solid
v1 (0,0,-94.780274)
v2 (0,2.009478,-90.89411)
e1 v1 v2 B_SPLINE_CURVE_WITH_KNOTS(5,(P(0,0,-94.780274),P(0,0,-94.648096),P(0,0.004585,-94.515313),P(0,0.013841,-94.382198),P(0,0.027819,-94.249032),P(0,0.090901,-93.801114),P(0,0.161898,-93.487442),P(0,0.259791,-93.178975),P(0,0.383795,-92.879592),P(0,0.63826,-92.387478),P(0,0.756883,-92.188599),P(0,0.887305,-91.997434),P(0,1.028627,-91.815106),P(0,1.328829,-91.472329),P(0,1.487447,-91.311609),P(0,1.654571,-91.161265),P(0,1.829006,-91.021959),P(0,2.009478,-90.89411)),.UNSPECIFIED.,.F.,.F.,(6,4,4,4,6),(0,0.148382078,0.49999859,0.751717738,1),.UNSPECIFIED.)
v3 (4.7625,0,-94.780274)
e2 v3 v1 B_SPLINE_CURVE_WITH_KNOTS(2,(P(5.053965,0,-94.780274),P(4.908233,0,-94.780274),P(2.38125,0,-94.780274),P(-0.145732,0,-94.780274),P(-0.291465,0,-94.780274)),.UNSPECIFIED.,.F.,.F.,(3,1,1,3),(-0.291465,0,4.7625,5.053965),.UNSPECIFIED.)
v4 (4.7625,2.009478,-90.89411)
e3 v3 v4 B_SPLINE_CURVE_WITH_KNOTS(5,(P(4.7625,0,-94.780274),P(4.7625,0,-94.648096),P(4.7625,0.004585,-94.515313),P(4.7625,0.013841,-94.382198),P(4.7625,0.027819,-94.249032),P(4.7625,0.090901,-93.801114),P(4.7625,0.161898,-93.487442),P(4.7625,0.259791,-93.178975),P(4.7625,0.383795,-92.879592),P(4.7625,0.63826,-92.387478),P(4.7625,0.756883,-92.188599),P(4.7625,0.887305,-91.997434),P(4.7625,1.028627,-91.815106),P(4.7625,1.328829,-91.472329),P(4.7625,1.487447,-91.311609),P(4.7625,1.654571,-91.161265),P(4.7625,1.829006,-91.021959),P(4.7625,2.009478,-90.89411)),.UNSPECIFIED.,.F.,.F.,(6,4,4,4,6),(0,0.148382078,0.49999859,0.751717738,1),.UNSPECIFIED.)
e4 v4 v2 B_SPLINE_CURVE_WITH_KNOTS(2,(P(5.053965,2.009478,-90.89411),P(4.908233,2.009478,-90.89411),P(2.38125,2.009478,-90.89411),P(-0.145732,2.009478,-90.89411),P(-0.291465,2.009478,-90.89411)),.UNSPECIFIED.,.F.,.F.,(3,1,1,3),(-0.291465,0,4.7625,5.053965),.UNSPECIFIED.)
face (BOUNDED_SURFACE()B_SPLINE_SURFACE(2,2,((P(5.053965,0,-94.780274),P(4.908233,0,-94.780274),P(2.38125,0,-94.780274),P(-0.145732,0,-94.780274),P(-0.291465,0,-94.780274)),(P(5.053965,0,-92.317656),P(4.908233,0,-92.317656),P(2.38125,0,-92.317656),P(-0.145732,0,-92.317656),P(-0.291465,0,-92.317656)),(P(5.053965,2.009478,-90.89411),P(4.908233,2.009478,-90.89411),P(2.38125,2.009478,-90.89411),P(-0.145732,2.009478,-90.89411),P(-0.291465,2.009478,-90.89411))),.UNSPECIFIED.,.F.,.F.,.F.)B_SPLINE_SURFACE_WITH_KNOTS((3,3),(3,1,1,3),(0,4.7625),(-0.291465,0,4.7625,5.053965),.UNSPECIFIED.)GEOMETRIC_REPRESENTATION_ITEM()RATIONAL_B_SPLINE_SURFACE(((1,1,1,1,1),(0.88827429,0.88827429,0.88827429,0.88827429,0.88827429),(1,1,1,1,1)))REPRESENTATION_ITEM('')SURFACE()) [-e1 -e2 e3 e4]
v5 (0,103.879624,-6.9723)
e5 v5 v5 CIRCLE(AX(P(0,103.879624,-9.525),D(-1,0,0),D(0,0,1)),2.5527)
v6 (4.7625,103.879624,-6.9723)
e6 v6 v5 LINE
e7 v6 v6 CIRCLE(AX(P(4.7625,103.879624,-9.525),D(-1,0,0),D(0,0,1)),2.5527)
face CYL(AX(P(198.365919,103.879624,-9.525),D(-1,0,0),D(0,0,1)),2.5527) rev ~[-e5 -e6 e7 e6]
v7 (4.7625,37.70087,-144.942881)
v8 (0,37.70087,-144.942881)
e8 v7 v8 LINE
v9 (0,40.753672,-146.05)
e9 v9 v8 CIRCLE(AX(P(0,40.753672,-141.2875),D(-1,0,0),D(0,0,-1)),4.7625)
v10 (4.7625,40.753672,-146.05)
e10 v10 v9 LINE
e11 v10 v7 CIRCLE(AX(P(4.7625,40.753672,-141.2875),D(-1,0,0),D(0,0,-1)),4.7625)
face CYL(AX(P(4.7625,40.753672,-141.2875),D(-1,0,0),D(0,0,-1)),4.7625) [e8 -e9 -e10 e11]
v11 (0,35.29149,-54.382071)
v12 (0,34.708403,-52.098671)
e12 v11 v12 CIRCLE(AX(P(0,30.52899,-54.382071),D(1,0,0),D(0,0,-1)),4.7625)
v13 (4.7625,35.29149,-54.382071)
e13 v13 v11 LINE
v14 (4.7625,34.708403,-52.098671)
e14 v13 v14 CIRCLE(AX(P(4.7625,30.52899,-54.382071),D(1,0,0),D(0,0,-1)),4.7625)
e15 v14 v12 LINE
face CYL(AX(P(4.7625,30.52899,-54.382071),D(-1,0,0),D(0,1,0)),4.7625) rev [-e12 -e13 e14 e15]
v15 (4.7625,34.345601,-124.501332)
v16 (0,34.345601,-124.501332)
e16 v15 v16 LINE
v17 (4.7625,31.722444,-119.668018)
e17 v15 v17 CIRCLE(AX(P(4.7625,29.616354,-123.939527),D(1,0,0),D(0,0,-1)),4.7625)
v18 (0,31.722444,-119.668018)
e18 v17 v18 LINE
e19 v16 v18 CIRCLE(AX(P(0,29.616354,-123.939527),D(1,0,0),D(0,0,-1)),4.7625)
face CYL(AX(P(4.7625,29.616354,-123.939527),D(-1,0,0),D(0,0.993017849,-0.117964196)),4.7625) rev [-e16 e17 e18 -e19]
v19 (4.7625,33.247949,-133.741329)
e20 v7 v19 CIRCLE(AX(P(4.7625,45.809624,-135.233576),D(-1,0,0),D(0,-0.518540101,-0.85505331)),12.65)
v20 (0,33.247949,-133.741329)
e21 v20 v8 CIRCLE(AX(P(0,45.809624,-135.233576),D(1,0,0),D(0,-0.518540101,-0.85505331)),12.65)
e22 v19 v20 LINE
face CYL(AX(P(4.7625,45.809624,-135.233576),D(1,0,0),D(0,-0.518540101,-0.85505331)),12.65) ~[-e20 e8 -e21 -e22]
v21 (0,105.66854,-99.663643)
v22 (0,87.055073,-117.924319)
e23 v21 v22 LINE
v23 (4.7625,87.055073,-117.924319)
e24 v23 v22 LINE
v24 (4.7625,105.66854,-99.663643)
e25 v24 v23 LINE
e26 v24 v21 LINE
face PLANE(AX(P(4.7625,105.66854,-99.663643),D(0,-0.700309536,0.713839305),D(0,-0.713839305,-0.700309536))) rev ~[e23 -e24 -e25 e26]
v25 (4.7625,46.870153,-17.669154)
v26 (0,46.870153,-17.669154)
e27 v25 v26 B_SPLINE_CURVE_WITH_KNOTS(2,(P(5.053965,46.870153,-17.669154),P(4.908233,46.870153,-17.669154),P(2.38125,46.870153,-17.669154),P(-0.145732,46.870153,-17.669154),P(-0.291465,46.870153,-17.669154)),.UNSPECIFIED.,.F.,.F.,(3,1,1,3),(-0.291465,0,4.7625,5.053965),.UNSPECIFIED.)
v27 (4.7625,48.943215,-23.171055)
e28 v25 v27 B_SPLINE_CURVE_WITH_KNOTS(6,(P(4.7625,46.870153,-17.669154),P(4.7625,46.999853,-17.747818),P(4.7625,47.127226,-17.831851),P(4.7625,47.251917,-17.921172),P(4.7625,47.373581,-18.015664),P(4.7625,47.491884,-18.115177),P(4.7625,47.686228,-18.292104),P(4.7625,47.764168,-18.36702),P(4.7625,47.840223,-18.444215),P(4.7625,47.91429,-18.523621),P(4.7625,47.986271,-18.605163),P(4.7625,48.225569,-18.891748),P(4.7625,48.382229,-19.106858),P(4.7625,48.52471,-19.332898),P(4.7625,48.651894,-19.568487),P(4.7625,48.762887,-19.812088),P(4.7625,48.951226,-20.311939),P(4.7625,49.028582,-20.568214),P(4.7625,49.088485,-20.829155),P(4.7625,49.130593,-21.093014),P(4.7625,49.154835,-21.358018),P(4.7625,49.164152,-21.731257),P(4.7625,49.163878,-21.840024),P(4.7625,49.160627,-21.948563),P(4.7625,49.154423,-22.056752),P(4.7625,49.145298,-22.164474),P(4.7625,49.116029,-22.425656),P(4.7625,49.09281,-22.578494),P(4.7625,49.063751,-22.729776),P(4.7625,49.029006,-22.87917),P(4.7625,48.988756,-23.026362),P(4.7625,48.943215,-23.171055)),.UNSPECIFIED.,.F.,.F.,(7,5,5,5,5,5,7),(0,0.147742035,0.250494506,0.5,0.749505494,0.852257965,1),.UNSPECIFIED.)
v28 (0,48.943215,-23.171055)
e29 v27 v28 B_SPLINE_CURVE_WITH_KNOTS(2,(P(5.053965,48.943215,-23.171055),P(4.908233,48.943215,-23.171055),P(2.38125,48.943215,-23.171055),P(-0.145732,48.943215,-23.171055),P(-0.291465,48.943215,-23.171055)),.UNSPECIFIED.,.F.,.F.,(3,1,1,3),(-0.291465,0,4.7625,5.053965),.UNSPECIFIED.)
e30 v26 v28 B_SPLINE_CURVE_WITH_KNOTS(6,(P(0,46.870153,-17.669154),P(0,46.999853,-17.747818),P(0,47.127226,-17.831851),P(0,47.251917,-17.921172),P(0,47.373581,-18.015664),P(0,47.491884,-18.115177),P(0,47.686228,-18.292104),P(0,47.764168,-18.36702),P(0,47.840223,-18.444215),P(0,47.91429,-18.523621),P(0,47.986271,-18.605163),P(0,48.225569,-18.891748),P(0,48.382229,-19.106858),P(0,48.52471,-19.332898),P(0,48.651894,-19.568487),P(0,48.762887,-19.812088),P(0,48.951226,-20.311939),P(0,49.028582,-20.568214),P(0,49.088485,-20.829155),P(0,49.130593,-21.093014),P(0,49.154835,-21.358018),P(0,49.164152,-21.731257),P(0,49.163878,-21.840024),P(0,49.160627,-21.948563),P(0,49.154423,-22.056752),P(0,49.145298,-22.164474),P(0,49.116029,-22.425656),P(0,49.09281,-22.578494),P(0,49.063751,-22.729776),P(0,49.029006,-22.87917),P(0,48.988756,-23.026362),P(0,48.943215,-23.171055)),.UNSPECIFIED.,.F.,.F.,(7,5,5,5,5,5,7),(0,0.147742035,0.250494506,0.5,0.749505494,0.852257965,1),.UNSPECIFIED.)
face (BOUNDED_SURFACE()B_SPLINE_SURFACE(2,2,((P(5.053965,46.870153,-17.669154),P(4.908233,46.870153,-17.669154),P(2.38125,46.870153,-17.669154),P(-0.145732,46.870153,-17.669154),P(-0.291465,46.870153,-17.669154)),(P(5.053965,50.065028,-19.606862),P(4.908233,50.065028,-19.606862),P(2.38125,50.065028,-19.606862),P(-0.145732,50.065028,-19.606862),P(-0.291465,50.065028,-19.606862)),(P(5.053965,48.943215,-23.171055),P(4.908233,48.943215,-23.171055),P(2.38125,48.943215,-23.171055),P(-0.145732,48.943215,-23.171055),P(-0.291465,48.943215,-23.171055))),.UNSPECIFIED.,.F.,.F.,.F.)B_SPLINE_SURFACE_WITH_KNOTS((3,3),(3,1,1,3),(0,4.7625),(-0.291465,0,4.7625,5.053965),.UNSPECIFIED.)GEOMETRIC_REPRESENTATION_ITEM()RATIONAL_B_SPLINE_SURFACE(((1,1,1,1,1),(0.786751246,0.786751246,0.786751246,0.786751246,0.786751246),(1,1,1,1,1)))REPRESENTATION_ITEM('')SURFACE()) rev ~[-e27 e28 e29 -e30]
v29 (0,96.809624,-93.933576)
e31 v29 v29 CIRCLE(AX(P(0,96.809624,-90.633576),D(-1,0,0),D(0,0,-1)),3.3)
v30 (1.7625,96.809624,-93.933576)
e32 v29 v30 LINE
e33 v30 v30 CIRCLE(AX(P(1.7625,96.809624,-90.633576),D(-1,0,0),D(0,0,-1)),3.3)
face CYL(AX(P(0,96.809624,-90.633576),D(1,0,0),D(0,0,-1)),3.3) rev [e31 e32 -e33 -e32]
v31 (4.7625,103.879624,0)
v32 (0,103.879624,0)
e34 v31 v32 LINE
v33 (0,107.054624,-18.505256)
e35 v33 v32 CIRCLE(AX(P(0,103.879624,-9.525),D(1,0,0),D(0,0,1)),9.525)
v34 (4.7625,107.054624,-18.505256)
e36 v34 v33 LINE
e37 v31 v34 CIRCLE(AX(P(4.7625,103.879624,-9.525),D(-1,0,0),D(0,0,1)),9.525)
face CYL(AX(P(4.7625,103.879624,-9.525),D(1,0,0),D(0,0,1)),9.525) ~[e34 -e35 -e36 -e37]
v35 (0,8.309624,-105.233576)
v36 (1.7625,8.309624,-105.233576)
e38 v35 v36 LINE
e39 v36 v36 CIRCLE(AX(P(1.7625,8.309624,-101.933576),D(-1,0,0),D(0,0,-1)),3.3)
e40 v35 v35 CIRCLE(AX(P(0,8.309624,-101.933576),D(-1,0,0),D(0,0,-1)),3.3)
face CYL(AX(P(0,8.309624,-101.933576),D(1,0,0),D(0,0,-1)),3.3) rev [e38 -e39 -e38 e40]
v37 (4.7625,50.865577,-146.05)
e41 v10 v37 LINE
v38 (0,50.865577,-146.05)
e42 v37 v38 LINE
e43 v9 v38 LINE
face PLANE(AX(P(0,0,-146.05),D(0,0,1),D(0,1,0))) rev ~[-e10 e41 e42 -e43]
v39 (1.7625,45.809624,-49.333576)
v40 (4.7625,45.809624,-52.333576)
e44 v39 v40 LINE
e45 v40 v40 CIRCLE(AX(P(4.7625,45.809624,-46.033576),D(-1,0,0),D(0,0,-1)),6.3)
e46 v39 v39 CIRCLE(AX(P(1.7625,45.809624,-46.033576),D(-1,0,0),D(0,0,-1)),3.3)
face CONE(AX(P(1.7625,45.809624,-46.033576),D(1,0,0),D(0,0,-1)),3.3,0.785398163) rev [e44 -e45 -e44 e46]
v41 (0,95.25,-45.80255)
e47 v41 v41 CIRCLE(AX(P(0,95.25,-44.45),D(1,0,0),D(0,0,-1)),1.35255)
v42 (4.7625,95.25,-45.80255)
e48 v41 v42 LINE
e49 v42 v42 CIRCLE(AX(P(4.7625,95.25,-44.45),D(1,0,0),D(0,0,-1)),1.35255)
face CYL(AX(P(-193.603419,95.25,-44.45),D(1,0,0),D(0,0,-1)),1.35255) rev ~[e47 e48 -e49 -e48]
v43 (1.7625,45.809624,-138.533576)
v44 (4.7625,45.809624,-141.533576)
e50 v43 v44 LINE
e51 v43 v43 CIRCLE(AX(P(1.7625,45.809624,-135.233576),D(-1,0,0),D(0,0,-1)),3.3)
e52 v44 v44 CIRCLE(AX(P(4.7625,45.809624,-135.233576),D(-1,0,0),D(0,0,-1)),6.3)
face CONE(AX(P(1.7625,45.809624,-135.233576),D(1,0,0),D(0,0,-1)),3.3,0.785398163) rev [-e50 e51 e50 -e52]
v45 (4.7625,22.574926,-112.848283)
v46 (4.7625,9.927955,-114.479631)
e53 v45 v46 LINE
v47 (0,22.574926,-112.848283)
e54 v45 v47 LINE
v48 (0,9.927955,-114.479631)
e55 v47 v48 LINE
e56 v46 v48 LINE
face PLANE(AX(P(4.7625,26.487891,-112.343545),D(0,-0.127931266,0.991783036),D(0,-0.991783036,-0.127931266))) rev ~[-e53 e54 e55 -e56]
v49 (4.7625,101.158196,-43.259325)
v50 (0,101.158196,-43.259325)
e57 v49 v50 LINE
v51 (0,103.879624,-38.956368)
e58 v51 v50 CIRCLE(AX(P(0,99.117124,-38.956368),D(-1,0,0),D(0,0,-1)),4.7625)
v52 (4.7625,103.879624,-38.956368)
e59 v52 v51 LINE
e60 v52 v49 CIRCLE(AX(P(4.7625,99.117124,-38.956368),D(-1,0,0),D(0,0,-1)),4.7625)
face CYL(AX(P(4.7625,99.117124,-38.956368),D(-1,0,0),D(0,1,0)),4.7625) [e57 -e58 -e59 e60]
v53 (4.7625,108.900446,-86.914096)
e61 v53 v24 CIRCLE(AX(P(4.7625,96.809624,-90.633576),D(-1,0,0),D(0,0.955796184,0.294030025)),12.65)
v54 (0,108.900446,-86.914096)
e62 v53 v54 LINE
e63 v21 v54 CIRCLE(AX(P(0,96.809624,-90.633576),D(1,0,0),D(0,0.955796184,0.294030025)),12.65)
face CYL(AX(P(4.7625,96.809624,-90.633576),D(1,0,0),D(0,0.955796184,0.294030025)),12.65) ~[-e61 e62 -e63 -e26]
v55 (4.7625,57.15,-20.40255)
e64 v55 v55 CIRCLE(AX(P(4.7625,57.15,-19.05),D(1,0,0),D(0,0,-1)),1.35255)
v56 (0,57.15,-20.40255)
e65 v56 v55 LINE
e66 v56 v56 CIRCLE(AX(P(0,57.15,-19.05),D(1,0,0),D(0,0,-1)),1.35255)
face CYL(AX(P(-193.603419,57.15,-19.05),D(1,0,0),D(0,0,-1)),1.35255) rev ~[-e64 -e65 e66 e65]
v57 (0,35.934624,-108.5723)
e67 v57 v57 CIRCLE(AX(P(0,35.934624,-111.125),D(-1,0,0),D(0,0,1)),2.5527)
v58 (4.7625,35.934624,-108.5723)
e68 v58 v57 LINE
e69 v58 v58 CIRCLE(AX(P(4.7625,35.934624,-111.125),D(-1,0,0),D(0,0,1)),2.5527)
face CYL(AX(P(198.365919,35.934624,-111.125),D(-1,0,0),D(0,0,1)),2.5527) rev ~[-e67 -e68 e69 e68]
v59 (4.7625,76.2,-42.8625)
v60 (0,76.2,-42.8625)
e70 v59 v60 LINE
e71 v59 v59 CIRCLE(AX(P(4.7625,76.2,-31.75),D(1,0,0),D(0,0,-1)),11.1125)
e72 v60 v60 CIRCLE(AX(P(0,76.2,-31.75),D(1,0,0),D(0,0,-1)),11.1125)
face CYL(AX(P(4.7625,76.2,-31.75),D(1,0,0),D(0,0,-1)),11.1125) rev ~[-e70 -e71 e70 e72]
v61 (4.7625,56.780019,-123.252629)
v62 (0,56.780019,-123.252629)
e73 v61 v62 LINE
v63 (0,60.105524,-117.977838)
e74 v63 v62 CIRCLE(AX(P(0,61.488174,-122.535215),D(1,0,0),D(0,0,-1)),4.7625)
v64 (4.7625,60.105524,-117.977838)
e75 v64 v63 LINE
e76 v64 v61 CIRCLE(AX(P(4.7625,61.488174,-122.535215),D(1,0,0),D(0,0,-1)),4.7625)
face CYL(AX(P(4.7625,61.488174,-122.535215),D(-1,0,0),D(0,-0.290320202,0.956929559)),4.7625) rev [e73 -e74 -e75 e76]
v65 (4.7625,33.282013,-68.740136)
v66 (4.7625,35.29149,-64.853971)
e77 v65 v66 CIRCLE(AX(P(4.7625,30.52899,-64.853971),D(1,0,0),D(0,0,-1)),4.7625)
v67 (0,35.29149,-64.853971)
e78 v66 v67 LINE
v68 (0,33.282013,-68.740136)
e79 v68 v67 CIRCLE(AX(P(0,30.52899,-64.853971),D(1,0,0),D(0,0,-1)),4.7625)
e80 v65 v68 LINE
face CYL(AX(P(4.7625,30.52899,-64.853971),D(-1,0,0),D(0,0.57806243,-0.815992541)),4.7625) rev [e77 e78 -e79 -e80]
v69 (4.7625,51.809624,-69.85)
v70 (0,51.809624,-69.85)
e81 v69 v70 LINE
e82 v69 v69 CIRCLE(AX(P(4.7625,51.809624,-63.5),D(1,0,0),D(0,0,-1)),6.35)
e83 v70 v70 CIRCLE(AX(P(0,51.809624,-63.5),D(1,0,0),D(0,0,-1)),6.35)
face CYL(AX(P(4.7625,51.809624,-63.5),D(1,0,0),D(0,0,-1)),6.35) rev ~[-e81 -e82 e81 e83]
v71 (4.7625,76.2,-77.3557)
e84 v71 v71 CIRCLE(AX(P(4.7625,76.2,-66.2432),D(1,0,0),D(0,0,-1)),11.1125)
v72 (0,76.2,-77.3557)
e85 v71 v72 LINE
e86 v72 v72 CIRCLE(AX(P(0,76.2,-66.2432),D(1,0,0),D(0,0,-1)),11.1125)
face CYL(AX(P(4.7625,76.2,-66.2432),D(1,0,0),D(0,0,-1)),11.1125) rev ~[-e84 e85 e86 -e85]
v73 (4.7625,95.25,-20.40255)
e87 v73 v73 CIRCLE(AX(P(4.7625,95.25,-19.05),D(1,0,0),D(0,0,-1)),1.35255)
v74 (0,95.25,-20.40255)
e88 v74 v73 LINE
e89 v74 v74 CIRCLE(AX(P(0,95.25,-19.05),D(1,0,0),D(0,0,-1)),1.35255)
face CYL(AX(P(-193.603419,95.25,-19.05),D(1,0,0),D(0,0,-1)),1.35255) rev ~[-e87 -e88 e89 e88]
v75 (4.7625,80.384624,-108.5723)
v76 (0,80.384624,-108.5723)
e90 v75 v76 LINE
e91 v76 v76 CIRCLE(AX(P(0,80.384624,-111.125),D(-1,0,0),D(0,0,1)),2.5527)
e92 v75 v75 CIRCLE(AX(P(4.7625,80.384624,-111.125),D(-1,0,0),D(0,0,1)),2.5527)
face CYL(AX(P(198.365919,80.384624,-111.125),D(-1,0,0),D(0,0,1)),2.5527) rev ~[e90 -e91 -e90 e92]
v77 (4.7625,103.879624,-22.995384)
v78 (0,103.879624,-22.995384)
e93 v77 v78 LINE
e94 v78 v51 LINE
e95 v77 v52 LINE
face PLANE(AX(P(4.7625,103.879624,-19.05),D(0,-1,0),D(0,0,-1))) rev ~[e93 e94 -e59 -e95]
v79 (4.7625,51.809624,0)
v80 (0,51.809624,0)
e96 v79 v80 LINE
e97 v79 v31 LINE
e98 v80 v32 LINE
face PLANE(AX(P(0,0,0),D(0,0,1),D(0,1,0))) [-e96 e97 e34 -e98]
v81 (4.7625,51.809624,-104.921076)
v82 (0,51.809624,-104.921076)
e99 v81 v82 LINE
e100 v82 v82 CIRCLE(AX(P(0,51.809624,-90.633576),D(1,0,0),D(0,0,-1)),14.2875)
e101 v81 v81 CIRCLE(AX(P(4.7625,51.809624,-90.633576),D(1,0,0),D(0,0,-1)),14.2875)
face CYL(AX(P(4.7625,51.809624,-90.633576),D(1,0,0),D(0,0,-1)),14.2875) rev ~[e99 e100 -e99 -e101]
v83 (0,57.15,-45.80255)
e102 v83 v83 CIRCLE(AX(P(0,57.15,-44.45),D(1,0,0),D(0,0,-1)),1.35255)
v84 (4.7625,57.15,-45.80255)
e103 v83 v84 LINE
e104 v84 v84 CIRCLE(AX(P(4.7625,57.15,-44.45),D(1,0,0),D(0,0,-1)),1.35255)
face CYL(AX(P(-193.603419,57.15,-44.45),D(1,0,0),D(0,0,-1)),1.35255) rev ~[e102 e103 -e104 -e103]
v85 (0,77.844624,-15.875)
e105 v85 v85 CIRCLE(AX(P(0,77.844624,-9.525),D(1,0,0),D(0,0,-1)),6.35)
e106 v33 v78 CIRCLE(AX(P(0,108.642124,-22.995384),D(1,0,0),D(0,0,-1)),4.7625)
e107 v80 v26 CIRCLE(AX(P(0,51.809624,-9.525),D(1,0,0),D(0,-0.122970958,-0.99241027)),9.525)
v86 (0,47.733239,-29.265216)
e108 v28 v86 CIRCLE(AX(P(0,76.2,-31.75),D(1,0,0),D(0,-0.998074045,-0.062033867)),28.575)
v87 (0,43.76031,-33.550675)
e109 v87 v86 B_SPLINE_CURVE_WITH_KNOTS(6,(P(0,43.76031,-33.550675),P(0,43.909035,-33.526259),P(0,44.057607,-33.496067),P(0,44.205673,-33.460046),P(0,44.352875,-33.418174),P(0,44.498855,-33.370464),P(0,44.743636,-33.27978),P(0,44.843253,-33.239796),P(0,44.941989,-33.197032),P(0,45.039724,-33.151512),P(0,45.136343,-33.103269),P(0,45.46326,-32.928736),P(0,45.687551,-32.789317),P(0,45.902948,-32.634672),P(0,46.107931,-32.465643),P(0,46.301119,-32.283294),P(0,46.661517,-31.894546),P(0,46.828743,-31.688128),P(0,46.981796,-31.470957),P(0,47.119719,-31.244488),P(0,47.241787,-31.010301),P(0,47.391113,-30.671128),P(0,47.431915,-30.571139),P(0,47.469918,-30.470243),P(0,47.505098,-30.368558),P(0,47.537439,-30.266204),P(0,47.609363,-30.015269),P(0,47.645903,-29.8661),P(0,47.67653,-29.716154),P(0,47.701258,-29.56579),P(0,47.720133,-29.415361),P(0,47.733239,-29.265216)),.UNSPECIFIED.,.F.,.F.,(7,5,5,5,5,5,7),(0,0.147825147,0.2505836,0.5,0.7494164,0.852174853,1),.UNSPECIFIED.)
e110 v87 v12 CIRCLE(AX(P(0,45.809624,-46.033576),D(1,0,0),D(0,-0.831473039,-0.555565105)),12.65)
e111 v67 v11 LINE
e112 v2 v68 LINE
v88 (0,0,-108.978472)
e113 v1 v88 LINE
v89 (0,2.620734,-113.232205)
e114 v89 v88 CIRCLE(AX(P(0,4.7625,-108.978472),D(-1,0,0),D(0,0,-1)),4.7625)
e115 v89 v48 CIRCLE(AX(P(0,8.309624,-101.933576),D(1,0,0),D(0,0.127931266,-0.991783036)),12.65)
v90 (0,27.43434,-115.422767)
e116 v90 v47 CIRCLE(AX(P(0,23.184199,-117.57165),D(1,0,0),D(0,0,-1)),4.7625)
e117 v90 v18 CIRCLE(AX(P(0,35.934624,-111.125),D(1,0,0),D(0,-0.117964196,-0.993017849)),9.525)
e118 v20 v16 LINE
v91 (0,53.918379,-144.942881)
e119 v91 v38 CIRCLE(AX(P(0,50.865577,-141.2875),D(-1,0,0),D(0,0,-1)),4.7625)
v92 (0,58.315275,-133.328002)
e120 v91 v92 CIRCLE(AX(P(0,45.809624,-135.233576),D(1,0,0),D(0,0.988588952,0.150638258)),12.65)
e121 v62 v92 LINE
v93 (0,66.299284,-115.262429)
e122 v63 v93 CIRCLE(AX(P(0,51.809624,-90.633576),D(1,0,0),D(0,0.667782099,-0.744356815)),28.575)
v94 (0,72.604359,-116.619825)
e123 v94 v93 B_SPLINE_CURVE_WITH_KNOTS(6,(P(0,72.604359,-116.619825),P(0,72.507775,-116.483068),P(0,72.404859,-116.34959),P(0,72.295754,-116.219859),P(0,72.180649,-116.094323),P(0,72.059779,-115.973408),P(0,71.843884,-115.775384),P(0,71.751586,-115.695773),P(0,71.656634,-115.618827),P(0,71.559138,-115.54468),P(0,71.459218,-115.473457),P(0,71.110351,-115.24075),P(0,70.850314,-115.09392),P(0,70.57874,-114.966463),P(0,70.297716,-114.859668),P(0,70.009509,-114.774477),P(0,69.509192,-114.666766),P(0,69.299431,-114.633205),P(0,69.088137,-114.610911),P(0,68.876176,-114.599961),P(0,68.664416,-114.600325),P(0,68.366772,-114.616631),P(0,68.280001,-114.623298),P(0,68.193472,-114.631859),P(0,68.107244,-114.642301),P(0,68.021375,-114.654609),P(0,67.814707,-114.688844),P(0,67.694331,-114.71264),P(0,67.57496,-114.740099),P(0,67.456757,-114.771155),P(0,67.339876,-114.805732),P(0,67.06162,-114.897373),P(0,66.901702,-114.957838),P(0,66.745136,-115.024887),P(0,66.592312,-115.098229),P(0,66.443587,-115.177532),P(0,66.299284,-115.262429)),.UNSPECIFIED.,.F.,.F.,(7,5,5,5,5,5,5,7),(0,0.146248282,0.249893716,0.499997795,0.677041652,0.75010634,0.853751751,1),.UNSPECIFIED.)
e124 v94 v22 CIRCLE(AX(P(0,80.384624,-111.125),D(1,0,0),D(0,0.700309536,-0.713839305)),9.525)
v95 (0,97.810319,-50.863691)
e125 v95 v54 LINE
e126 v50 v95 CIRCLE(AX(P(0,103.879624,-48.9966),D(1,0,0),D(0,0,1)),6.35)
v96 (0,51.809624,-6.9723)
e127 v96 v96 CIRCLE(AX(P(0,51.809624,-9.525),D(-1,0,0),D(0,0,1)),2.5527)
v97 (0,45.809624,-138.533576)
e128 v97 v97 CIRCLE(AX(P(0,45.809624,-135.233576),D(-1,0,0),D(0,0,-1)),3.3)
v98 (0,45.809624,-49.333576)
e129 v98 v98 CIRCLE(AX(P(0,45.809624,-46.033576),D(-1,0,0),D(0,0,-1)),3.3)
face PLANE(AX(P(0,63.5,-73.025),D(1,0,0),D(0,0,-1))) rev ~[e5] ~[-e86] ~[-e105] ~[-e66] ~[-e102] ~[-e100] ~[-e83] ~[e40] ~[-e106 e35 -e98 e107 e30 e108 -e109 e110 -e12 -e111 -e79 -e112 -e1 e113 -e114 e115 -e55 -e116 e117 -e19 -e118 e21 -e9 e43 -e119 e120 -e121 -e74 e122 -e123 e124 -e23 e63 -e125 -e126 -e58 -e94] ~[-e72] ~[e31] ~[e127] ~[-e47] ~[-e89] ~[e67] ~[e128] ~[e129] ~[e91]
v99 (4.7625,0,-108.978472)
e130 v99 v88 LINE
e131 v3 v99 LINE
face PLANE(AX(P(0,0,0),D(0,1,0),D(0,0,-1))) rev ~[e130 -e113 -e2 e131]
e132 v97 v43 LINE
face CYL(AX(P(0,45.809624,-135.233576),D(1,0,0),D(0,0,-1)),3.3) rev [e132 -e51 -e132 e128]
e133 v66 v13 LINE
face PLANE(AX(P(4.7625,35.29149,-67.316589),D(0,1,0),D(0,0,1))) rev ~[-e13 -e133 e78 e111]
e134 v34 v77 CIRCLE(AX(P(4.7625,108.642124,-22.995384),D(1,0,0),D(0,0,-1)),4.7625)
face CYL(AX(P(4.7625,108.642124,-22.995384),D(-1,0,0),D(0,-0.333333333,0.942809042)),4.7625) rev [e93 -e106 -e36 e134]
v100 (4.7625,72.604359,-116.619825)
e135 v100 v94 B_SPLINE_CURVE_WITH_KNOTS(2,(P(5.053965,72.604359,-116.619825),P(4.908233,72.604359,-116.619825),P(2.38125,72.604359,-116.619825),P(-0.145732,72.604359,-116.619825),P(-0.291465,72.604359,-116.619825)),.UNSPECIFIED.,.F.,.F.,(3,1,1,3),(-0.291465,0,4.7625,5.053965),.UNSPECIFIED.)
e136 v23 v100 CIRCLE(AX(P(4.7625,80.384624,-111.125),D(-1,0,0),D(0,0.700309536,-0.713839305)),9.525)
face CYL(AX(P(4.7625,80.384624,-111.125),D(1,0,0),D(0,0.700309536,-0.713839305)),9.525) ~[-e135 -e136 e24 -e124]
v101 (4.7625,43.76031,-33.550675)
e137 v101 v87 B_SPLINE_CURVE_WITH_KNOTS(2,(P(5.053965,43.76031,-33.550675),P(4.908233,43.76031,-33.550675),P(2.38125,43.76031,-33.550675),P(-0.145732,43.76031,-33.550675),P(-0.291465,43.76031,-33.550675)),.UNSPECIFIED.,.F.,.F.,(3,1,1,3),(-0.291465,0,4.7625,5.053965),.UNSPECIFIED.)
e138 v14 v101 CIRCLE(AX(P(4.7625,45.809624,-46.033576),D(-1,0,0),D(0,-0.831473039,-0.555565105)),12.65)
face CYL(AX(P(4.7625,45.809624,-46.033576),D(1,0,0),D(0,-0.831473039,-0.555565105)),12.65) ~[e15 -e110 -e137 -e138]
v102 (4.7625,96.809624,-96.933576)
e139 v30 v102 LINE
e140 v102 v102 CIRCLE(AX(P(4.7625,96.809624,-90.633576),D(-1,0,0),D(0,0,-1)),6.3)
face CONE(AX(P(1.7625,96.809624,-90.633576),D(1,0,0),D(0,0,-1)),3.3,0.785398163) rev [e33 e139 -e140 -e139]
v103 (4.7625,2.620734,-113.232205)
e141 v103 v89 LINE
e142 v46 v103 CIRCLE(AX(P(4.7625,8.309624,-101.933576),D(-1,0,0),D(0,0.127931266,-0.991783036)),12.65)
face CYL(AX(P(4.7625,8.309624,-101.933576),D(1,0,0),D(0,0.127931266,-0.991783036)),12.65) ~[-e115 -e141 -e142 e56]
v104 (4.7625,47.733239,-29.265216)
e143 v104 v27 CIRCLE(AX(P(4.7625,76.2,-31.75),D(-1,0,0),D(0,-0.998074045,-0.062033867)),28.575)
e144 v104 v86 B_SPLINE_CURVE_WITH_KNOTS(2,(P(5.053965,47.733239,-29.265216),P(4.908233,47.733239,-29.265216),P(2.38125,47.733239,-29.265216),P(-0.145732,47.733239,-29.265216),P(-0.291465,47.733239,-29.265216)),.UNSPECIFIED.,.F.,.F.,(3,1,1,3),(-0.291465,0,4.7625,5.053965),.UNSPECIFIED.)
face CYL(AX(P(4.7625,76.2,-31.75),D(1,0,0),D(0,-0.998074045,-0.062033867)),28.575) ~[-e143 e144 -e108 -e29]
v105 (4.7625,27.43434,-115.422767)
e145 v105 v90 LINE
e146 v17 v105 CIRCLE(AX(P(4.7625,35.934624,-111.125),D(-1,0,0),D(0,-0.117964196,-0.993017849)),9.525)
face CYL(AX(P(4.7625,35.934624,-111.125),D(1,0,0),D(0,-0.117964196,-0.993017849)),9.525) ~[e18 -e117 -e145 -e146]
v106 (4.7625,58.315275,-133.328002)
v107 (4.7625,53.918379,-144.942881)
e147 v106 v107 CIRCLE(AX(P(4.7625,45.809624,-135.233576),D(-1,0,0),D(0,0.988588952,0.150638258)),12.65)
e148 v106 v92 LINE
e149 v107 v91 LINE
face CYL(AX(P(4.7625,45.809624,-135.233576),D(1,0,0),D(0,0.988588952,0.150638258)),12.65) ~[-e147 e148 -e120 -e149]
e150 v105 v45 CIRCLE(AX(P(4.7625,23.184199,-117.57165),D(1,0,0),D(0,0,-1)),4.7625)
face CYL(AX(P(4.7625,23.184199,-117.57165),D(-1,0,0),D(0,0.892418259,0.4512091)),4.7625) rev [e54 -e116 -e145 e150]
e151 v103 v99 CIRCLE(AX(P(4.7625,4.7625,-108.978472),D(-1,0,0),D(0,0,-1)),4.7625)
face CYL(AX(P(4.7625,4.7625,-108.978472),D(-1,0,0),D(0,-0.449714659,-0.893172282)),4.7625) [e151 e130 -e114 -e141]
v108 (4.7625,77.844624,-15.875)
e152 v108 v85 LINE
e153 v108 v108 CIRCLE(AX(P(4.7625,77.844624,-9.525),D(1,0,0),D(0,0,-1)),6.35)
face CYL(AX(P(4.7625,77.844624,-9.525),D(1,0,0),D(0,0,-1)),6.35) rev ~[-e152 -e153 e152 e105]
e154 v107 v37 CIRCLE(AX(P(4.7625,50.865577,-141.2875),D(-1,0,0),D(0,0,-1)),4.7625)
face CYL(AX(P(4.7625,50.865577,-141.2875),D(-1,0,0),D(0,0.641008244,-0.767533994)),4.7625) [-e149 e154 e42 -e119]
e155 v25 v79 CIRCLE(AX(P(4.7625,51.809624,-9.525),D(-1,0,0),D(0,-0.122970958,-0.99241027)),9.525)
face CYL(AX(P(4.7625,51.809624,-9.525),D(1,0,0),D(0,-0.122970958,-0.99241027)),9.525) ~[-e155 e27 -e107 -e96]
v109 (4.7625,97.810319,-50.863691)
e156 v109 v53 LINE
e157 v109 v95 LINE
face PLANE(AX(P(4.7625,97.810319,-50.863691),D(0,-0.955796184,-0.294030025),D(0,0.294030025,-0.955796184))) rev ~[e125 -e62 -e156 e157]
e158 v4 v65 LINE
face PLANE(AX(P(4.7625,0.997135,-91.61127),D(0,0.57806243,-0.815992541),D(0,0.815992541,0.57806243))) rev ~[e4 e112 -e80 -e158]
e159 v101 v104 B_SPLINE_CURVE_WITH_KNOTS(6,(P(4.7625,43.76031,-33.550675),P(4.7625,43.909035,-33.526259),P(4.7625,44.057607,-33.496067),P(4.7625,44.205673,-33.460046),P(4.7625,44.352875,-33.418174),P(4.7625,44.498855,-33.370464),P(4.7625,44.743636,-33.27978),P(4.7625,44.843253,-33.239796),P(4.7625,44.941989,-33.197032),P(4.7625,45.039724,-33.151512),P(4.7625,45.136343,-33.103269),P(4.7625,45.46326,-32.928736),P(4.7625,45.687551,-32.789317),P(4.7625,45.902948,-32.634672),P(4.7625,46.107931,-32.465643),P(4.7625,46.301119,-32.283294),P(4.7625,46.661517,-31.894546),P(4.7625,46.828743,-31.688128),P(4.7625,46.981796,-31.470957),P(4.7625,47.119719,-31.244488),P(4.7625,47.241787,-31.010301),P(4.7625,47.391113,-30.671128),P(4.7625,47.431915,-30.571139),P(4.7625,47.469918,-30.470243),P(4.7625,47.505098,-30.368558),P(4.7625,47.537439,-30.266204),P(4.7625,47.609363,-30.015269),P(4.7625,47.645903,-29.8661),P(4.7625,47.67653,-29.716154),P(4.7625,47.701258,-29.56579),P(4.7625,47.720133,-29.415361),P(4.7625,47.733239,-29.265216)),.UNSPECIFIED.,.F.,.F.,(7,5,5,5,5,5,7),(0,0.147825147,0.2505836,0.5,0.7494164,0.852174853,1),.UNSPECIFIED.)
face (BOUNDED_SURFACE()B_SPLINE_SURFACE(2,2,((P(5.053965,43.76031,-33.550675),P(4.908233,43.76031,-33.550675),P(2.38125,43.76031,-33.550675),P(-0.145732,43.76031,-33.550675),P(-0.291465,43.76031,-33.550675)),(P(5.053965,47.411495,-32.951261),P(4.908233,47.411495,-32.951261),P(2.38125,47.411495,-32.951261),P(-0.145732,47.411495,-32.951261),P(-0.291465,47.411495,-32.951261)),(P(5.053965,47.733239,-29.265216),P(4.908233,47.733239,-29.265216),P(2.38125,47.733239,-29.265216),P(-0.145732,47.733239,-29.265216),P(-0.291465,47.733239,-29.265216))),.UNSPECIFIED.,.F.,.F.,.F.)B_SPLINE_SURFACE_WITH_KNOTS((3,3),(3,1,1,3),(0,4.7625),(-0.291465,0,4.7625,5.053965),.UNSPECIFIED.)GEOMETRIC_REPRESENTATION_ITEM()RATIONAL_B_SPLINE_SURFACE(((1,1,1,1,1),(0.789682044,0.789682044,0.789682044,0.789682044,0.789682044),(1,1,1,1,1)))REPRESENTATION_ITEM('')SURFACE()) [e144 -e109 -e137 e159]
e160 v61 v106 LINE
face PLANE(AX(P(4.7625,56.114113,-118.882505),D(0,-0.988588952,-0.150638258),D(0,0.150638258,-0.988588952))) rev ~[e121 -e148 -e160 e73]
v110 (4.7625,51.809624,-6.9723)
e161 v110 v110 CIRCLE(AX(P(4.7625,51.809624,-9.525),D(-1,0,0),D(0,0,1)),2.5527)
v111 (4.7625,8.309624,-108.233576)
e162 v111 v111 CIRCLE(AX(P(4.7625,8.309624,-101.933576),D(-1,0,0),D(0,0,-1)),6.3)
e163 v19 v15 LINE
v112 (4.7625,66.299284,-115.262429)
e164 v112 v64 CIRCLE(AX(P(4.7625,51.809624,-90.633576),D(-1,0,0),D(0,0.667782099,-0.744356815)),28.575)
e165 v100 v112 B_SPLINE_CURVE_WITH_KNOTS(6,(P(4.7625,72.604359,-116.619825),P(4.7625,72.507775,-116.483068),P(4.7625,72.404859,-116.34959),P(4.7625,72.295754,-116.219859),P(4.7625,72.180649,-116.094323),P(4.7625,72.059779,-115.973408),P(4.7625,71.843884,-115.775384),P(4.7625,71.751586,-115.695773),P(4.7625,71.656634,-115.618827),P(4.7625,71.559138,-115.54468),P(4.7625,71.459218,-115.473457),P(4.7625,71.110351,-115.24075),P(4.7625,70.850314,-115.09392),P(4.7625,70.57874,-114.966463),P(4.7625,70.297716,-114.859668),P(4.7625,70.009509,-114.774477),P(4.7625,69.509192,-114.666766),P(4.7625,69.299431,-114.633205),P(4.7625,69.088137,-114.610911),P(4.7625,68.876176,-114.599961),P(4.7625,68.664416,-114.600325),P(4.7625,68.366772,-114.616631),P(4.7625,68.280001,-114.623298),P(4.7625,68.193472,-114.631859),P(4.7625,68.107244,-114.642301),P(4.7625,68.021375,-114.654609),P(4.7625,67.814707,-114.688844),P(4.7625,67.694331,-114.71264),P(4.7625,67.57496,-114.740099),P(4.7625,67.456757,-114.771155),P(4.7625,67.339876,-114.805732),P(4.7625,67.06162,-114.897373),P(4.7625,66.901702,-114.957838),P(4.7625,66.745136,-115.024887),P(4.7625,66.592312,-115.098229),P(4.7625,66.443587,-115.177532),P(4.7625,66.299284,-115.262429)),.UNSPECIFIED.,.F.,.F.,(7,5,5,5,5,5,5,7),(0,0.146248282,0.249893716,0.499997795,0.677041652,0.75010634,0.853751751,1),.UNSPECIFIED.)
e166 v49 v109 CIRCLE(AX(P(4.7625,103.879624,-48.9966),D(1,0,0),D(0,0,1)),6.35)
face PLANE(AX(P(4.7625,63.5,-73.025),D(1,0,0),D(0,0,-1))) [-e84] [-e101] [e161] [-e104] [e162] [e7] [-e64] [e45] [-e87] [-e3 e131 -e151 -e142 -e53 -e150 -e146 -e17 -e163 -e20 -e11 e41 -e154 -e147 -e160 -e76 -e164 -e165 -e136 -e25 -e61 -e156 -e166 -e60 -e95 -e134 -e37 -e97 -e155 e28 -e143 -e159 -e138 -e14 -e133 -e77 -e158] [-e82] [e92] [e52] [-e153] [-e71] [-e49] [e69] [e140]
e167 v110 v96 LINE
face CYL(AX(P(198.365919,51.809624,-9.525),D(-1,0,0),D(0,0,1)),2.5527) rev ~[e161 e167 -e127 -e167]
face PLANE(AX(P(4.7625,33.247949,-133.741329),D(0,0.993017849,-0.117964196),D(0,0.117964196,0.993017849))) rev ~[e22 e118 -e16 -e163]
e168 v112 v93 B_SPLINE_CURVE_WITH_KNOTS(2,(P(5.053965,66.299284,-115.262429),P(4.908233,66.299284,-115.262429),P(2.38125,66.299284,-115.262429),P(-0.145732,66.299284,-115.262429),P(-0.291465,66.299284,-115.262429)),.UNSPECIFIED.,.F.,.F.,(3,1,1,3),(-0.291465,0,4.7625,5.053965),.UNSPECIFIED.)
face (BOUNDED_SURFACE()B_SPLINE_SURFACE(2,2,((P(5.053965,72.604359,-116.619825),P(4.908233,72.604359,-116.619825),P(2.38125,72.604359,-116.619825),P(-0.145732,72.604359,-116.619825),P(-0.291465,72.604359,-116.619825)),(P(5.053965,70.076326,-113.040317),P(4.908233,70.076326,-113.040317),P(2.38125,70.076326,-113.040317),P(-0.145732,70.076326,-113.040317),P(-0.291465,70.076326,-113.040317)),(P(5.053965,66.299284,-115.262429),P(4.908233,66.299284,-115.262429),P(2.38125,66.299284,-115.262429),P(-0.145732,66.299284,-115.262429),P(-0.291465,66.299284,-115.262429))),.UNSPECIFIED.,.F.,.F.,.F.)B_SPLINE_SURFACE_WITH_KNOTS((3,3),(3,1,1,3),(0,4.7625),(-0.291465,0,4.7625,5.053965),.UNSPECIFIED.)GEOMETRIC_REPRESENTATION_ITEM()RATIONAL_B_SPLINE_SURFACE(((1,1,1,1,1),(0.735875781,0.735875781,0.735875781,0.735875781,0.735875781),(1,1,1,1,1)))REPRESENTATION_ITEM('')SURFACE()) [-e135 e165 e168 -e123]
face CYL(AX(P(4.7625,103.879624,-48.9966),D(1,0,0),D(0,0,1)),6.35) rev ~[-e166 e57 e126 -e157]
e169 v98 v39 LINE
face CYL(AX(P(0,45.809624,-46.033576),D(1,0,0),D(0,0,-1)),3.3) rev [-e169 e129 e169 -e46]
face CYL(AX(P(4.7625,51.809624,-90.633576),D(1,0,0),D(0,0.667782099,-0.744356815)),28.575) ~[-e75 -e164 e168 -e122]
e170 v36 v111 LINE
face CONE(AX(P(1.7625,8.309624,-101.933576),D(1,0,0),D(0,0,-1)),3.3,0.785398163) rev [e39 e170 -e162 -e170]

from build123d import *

# Parameters (mm, degrees)
SKETCH1_W                                      = 146.05
SKETCH1_H                                      = 127
BOSS_EXTRUDE2_DEPTH                            = 4.7625
SKETCH2_R                                      = 14.2875
SKETCH2_R_2                                    = 11.1125
CUT_EXTRUDE1_DEPTH                             = 5.7625
CSK_FOR_M6_FLAT_HEAD_MACHINE_SCREW1_AT_2_COUNT = 2
CSK_FOR_M6_FLAT_HEAD_MACHINE_SCREW1_AT_2_PITCH = 89.21849584
CSK_FOR_M6_FLAT_HEAD_MACHINE_SCREW1_AT_3_COUNT = 2
CSK_FOR_M6_FLAT_HEAD_MACHINE_SCREW1_AT_3_PITCH = 67.750719553
CSK_FOR_M6_FLAT_HEAD_MACHINE_SCREW1_AT_4_COUNT = 2
CSK_FOR_M6_FLAT_HEAD_MACHINE_SCREW1_AT_4_PITCH = 67.750719553
F_10_CLEARANCE_HOLE2_D                         = 5.1054
FILLET2_R                                      = 9.525
F_6_32_TAPPED_HOLE1_D                          = 2.7051
SKETCH11_R                                     = 6.35
CUT_EXTRUDE2_DEPTH                             = 5.7625
FILLET28_R                                     = 4.7625


with BuildPart() as part:
    # Sketch1 → Boss-Extrude2 (new body)
    with BuildSketch(Plane(origin=(0, 0, 0), x_dir=(0, 0, -1), z_dir=(1, 0, 0))):
        with Locations((73.025, 63.5)):
            Rectangle(SKETCH1_W, SKETCH1_H)
    extrude(amount=BOSS_EXTRUDE2_DEPTH)

    # Sketch2 → Cut-Extrude1 (cut, through all)
    with BuildSketch(Plane(origin=(4.7625, 0, 0), x_dir=(0, 0, -1), z_dir=(1, 0, 0))):
        with Locations((90.633575625, 51.809624375)):
            Circle(SKETCH2_R)
        with Locations((31.75, 76.2)):
            Circle(SKETCH2_R_2)
        with Locations((66.2432, 76.2)):
            Circle(SKETCH2_R_2)
    extrude(amount=-CUT_EXTRUDE1_DEPTH, mode=Mode.SUBTRACT)

    # Sketch4 → CSK for M6 Flat Head Machine Screw1 (revolve, cut)
    with BuildSketch(Plane(origin=(4.7625, 96.809624375, -90.633575625), x_dir=(0, 0, -1), z_dir=(0, 1, 0))):
        Polygon((0, 0), (0, 4.7625), (3.3, 4.7625), (3.3, 3), (6.3, 0), align=None)
    csk_for_m6_flat_head_machine_screw1 = revolve(axis=Axis((11.1125, 96.809624375, -90.633575625), (-1, 0, 0)), mode=Mode.SUBTRACT)

    # CSK for M6 Flat Head Machine Screw1 at 2: CSK for M6 Flat Head Machine Screw1 ×2
    with Locations(*[Vector(0, -0.991946784, -0.126655352) * (i * CSK_FOR_M6_FLAT_HEAD_MACHINE_SCREW1_AT_2_PITCH) for i in range(1, CSK_FOR_M6_FLAT_HEAD_MACHINE_SCREW1_AT_2_COUNT)]):
        add(csk_for_m6_flat_head_machine_screw1, mode=Mode.SUBTRACT)

    # CSK for M6 Flat Head Machine Screw1 at 3: CSK for M6 Flat Head Machine Screw1 ×2
    with Locations(*[Vector(0, -0.752759533, 0.658295591) * (i * CSK_FOR_M6_FLAT_HEAD_MACHINE_SCREW1_AT_3_PITCH) for i in range(1, CSK_FOR_M6_FLAT_HEAD_MACHINE_SCREW1_AT_3_COUNT)]):
        add(csk_for_m6_flat_head_machine_screw1, mode=Mode.SUBTRACT)

    # CSK for M6 Flat Head Machine Screw1 at 4: CSK for M6 Flat Head Machine Screw1 ×2
    with Locations(*[Vector(0, -0.752759533, -0.658295591) * (i * CSK_FOR_M6_FLAT_HEAD_MACHINE_SCREW1_AT_4_PITCH) for i in range(1, CSK_FOR_M6_FLAT_HEAD_MACHINE_SCREW1_AT_4_COUNT)]):
        add(csk_for_m6_flat_head_machine_screw1, mode=Mode.SUBTRACT)

    # #10 Clearance Hole2 (through all)
    with Locations(Plane(origin=(4.7625, 0, 0), x_dir=(0, 0, -1), z_dir=(1, 0, 0))):
        with Locations((111.125, 35.934624375), (9.525, 103.879624375), (111.125, 80.384624375), (9.525, 51.809624375)):
            Hole(F_10_CLEARANCE_HOLE2_D / 2)

    # Fillet2
    fillet2_edges = [part.edges().sort_by_distance(p)[0] for p in [
        (2.38125, 127, 0),
        (2.38125, 127, -146.05),
        (2.38125, 0, -146.05),
        (2.38125, 0, 0),
    ]]
    fillet(fillet2_edges, radius=FILLET2_R)

    # #6-32 Tapped Hole1 (through all)
    with Locations(Plane.ZY):
        with Locations((-31.75, 76.2), (-19.05, 57.15), (-44.45, 57.15), (-44.45, 95.25), (-19.05, 95.25)):
            Hole(F_6_32_TAPPED_HOLE1_D / 2)

    # Sketch11 → Cut-Extrude2 (cut, through all)
    with BuildSketch(Plane(origin=(4.7625, 0, 0), x_dir=(0, 0, -1), z_dir=(1, 0, 0))):
        with Locations((9.525, 77.844624375)):
            Circle(SKETCH11_R)
        with Locations((63.5, 51.809624375)):
            Circle(SKETCH11_R)
        with BuildLine():
            Line((19.05, 103.879624375), (42.6466, 103.879624375))
            ThreePointArc((42.6466, 103.879624375), (45.223903728, 98.77185942), (50.863690659, 97.81031861))
            Line((50.863690659, 97.81031861), (86.914095809, 108.900446097))
            ThreePointArc((86.914095809, 108.900446097), (93.741933528, 109.07178614), (99.663642833, 105.66854001))
            Line((99.663642833, 105.66854001), (117.92431938, 87.055072709))
            ThreePointArc((117.92431938, 87.055072709), (120.050883489, 77.059834316), (111.903571622, 70.89149785))
            ThreePointArc((111.903571622, 70.89149785), (116.471992165, 64.012364056), (118.882504918, 56.114112587))
            Line((118.882504918, 56.114112587), (133.328001666, 58.315274614))
            ThreePointArc((133.328001666, 58.315274614), (140.589870378, 57.26966829), (146.05, 52.369156655))
            Line((146.05, 52.369156655), (146.05, 127))
            Line((146.05, 127), (0, 127))
            Line((0, 127), (0, 103.879624375))
            ThreePointArc((0, 103.879624375), (9.525, 113.404624375), (19.05, 103.879624375))
        make_face()
        with BuildLine():
            Line((112.343545309, 26.487890954), (114.479631034, 9.927954891))
            ThreePointArc((114.479631034, 9.927954891), (114.040060834, 4.641448277), (111.471533621, 0))
            Line((111.471533621, 0), (146.05, 0))
            Line((146.05, 0), (146.05, 39.250092095))
            ThreePointArc((146.05, 39.250092095), (140.778077608, 34.439444176), (133.741328545, 33.247948585))
            Line((133.741328545, 33.247948585), (120.583495012, 34.811015408))
            ThreePointArc((120.583495012, 34.811015408), (117.893928842, 29.233338877), (112.343545309, 26.487890954))
        make_face()
        with BuildLine():
            Line((91.611269982, 0.997134634), (67.316588768, 35.291490433))
            Line((67.316588768, 35.291490433), (53.0614742, 35.291490433))
            ThreePointArc((53.0614742, 35.291490433), (39.259729687, 35.126108511), (33.522617739, 47.680034163))
            ThreePointArc((33.522617739, 47.680034163), (26.054731603, 48.198311785), (18.97770782, 50.638326004))
            ThreePointArc((18.97770782, 50.638326004), (8.938236412, 42.302714599), (0, 51.809624375))
            Line((0, 51.809624375), (0, 0))
            Line((0, 0), (92.395617628, 0))
            ThreePointArc((92.395617628, 0), (91.990935768, 0.488728475), (91.611269982, 0.997134634))
        make_face()
    extrude(amount=-CUT_EXTRUDE2_DEPTH, mode=Mode.SUBTRACT)

    # Fillet28
    fillet28_edges = [part.edges().sort_by_distance(p)[0] for p in [
        (2.38125, 103.879624375, -19.05),
        (2.38125, 103.879624375, -42.6466),
        (2.38125, 70.89149785, -111.903571622),
        (2.38125, 56.114112587, -118.882504918),
        (2.38125, 39.250092095, -146.05),
        (2.38125, 52.369156655, -146.05),
        (2.38125, 34.811015408, -120.583495012),
        (2.38125, 26.487890954, -112.343545309),
        (2.38125, 0, -111.471533621),
        (2.38125, 0, -92.395617628),
        (2.38125, 35.291490433, -67.316588768),
        (2.38125, 35.291490433, -53.0614742),
        (2.38125, 47.680034163, -33.522617739),
        (2.38125, 50.638326004, -18.97770782),
    ]]
    fillet(fillet28_edges, radius=FILLET28_R)


solid = part.part
